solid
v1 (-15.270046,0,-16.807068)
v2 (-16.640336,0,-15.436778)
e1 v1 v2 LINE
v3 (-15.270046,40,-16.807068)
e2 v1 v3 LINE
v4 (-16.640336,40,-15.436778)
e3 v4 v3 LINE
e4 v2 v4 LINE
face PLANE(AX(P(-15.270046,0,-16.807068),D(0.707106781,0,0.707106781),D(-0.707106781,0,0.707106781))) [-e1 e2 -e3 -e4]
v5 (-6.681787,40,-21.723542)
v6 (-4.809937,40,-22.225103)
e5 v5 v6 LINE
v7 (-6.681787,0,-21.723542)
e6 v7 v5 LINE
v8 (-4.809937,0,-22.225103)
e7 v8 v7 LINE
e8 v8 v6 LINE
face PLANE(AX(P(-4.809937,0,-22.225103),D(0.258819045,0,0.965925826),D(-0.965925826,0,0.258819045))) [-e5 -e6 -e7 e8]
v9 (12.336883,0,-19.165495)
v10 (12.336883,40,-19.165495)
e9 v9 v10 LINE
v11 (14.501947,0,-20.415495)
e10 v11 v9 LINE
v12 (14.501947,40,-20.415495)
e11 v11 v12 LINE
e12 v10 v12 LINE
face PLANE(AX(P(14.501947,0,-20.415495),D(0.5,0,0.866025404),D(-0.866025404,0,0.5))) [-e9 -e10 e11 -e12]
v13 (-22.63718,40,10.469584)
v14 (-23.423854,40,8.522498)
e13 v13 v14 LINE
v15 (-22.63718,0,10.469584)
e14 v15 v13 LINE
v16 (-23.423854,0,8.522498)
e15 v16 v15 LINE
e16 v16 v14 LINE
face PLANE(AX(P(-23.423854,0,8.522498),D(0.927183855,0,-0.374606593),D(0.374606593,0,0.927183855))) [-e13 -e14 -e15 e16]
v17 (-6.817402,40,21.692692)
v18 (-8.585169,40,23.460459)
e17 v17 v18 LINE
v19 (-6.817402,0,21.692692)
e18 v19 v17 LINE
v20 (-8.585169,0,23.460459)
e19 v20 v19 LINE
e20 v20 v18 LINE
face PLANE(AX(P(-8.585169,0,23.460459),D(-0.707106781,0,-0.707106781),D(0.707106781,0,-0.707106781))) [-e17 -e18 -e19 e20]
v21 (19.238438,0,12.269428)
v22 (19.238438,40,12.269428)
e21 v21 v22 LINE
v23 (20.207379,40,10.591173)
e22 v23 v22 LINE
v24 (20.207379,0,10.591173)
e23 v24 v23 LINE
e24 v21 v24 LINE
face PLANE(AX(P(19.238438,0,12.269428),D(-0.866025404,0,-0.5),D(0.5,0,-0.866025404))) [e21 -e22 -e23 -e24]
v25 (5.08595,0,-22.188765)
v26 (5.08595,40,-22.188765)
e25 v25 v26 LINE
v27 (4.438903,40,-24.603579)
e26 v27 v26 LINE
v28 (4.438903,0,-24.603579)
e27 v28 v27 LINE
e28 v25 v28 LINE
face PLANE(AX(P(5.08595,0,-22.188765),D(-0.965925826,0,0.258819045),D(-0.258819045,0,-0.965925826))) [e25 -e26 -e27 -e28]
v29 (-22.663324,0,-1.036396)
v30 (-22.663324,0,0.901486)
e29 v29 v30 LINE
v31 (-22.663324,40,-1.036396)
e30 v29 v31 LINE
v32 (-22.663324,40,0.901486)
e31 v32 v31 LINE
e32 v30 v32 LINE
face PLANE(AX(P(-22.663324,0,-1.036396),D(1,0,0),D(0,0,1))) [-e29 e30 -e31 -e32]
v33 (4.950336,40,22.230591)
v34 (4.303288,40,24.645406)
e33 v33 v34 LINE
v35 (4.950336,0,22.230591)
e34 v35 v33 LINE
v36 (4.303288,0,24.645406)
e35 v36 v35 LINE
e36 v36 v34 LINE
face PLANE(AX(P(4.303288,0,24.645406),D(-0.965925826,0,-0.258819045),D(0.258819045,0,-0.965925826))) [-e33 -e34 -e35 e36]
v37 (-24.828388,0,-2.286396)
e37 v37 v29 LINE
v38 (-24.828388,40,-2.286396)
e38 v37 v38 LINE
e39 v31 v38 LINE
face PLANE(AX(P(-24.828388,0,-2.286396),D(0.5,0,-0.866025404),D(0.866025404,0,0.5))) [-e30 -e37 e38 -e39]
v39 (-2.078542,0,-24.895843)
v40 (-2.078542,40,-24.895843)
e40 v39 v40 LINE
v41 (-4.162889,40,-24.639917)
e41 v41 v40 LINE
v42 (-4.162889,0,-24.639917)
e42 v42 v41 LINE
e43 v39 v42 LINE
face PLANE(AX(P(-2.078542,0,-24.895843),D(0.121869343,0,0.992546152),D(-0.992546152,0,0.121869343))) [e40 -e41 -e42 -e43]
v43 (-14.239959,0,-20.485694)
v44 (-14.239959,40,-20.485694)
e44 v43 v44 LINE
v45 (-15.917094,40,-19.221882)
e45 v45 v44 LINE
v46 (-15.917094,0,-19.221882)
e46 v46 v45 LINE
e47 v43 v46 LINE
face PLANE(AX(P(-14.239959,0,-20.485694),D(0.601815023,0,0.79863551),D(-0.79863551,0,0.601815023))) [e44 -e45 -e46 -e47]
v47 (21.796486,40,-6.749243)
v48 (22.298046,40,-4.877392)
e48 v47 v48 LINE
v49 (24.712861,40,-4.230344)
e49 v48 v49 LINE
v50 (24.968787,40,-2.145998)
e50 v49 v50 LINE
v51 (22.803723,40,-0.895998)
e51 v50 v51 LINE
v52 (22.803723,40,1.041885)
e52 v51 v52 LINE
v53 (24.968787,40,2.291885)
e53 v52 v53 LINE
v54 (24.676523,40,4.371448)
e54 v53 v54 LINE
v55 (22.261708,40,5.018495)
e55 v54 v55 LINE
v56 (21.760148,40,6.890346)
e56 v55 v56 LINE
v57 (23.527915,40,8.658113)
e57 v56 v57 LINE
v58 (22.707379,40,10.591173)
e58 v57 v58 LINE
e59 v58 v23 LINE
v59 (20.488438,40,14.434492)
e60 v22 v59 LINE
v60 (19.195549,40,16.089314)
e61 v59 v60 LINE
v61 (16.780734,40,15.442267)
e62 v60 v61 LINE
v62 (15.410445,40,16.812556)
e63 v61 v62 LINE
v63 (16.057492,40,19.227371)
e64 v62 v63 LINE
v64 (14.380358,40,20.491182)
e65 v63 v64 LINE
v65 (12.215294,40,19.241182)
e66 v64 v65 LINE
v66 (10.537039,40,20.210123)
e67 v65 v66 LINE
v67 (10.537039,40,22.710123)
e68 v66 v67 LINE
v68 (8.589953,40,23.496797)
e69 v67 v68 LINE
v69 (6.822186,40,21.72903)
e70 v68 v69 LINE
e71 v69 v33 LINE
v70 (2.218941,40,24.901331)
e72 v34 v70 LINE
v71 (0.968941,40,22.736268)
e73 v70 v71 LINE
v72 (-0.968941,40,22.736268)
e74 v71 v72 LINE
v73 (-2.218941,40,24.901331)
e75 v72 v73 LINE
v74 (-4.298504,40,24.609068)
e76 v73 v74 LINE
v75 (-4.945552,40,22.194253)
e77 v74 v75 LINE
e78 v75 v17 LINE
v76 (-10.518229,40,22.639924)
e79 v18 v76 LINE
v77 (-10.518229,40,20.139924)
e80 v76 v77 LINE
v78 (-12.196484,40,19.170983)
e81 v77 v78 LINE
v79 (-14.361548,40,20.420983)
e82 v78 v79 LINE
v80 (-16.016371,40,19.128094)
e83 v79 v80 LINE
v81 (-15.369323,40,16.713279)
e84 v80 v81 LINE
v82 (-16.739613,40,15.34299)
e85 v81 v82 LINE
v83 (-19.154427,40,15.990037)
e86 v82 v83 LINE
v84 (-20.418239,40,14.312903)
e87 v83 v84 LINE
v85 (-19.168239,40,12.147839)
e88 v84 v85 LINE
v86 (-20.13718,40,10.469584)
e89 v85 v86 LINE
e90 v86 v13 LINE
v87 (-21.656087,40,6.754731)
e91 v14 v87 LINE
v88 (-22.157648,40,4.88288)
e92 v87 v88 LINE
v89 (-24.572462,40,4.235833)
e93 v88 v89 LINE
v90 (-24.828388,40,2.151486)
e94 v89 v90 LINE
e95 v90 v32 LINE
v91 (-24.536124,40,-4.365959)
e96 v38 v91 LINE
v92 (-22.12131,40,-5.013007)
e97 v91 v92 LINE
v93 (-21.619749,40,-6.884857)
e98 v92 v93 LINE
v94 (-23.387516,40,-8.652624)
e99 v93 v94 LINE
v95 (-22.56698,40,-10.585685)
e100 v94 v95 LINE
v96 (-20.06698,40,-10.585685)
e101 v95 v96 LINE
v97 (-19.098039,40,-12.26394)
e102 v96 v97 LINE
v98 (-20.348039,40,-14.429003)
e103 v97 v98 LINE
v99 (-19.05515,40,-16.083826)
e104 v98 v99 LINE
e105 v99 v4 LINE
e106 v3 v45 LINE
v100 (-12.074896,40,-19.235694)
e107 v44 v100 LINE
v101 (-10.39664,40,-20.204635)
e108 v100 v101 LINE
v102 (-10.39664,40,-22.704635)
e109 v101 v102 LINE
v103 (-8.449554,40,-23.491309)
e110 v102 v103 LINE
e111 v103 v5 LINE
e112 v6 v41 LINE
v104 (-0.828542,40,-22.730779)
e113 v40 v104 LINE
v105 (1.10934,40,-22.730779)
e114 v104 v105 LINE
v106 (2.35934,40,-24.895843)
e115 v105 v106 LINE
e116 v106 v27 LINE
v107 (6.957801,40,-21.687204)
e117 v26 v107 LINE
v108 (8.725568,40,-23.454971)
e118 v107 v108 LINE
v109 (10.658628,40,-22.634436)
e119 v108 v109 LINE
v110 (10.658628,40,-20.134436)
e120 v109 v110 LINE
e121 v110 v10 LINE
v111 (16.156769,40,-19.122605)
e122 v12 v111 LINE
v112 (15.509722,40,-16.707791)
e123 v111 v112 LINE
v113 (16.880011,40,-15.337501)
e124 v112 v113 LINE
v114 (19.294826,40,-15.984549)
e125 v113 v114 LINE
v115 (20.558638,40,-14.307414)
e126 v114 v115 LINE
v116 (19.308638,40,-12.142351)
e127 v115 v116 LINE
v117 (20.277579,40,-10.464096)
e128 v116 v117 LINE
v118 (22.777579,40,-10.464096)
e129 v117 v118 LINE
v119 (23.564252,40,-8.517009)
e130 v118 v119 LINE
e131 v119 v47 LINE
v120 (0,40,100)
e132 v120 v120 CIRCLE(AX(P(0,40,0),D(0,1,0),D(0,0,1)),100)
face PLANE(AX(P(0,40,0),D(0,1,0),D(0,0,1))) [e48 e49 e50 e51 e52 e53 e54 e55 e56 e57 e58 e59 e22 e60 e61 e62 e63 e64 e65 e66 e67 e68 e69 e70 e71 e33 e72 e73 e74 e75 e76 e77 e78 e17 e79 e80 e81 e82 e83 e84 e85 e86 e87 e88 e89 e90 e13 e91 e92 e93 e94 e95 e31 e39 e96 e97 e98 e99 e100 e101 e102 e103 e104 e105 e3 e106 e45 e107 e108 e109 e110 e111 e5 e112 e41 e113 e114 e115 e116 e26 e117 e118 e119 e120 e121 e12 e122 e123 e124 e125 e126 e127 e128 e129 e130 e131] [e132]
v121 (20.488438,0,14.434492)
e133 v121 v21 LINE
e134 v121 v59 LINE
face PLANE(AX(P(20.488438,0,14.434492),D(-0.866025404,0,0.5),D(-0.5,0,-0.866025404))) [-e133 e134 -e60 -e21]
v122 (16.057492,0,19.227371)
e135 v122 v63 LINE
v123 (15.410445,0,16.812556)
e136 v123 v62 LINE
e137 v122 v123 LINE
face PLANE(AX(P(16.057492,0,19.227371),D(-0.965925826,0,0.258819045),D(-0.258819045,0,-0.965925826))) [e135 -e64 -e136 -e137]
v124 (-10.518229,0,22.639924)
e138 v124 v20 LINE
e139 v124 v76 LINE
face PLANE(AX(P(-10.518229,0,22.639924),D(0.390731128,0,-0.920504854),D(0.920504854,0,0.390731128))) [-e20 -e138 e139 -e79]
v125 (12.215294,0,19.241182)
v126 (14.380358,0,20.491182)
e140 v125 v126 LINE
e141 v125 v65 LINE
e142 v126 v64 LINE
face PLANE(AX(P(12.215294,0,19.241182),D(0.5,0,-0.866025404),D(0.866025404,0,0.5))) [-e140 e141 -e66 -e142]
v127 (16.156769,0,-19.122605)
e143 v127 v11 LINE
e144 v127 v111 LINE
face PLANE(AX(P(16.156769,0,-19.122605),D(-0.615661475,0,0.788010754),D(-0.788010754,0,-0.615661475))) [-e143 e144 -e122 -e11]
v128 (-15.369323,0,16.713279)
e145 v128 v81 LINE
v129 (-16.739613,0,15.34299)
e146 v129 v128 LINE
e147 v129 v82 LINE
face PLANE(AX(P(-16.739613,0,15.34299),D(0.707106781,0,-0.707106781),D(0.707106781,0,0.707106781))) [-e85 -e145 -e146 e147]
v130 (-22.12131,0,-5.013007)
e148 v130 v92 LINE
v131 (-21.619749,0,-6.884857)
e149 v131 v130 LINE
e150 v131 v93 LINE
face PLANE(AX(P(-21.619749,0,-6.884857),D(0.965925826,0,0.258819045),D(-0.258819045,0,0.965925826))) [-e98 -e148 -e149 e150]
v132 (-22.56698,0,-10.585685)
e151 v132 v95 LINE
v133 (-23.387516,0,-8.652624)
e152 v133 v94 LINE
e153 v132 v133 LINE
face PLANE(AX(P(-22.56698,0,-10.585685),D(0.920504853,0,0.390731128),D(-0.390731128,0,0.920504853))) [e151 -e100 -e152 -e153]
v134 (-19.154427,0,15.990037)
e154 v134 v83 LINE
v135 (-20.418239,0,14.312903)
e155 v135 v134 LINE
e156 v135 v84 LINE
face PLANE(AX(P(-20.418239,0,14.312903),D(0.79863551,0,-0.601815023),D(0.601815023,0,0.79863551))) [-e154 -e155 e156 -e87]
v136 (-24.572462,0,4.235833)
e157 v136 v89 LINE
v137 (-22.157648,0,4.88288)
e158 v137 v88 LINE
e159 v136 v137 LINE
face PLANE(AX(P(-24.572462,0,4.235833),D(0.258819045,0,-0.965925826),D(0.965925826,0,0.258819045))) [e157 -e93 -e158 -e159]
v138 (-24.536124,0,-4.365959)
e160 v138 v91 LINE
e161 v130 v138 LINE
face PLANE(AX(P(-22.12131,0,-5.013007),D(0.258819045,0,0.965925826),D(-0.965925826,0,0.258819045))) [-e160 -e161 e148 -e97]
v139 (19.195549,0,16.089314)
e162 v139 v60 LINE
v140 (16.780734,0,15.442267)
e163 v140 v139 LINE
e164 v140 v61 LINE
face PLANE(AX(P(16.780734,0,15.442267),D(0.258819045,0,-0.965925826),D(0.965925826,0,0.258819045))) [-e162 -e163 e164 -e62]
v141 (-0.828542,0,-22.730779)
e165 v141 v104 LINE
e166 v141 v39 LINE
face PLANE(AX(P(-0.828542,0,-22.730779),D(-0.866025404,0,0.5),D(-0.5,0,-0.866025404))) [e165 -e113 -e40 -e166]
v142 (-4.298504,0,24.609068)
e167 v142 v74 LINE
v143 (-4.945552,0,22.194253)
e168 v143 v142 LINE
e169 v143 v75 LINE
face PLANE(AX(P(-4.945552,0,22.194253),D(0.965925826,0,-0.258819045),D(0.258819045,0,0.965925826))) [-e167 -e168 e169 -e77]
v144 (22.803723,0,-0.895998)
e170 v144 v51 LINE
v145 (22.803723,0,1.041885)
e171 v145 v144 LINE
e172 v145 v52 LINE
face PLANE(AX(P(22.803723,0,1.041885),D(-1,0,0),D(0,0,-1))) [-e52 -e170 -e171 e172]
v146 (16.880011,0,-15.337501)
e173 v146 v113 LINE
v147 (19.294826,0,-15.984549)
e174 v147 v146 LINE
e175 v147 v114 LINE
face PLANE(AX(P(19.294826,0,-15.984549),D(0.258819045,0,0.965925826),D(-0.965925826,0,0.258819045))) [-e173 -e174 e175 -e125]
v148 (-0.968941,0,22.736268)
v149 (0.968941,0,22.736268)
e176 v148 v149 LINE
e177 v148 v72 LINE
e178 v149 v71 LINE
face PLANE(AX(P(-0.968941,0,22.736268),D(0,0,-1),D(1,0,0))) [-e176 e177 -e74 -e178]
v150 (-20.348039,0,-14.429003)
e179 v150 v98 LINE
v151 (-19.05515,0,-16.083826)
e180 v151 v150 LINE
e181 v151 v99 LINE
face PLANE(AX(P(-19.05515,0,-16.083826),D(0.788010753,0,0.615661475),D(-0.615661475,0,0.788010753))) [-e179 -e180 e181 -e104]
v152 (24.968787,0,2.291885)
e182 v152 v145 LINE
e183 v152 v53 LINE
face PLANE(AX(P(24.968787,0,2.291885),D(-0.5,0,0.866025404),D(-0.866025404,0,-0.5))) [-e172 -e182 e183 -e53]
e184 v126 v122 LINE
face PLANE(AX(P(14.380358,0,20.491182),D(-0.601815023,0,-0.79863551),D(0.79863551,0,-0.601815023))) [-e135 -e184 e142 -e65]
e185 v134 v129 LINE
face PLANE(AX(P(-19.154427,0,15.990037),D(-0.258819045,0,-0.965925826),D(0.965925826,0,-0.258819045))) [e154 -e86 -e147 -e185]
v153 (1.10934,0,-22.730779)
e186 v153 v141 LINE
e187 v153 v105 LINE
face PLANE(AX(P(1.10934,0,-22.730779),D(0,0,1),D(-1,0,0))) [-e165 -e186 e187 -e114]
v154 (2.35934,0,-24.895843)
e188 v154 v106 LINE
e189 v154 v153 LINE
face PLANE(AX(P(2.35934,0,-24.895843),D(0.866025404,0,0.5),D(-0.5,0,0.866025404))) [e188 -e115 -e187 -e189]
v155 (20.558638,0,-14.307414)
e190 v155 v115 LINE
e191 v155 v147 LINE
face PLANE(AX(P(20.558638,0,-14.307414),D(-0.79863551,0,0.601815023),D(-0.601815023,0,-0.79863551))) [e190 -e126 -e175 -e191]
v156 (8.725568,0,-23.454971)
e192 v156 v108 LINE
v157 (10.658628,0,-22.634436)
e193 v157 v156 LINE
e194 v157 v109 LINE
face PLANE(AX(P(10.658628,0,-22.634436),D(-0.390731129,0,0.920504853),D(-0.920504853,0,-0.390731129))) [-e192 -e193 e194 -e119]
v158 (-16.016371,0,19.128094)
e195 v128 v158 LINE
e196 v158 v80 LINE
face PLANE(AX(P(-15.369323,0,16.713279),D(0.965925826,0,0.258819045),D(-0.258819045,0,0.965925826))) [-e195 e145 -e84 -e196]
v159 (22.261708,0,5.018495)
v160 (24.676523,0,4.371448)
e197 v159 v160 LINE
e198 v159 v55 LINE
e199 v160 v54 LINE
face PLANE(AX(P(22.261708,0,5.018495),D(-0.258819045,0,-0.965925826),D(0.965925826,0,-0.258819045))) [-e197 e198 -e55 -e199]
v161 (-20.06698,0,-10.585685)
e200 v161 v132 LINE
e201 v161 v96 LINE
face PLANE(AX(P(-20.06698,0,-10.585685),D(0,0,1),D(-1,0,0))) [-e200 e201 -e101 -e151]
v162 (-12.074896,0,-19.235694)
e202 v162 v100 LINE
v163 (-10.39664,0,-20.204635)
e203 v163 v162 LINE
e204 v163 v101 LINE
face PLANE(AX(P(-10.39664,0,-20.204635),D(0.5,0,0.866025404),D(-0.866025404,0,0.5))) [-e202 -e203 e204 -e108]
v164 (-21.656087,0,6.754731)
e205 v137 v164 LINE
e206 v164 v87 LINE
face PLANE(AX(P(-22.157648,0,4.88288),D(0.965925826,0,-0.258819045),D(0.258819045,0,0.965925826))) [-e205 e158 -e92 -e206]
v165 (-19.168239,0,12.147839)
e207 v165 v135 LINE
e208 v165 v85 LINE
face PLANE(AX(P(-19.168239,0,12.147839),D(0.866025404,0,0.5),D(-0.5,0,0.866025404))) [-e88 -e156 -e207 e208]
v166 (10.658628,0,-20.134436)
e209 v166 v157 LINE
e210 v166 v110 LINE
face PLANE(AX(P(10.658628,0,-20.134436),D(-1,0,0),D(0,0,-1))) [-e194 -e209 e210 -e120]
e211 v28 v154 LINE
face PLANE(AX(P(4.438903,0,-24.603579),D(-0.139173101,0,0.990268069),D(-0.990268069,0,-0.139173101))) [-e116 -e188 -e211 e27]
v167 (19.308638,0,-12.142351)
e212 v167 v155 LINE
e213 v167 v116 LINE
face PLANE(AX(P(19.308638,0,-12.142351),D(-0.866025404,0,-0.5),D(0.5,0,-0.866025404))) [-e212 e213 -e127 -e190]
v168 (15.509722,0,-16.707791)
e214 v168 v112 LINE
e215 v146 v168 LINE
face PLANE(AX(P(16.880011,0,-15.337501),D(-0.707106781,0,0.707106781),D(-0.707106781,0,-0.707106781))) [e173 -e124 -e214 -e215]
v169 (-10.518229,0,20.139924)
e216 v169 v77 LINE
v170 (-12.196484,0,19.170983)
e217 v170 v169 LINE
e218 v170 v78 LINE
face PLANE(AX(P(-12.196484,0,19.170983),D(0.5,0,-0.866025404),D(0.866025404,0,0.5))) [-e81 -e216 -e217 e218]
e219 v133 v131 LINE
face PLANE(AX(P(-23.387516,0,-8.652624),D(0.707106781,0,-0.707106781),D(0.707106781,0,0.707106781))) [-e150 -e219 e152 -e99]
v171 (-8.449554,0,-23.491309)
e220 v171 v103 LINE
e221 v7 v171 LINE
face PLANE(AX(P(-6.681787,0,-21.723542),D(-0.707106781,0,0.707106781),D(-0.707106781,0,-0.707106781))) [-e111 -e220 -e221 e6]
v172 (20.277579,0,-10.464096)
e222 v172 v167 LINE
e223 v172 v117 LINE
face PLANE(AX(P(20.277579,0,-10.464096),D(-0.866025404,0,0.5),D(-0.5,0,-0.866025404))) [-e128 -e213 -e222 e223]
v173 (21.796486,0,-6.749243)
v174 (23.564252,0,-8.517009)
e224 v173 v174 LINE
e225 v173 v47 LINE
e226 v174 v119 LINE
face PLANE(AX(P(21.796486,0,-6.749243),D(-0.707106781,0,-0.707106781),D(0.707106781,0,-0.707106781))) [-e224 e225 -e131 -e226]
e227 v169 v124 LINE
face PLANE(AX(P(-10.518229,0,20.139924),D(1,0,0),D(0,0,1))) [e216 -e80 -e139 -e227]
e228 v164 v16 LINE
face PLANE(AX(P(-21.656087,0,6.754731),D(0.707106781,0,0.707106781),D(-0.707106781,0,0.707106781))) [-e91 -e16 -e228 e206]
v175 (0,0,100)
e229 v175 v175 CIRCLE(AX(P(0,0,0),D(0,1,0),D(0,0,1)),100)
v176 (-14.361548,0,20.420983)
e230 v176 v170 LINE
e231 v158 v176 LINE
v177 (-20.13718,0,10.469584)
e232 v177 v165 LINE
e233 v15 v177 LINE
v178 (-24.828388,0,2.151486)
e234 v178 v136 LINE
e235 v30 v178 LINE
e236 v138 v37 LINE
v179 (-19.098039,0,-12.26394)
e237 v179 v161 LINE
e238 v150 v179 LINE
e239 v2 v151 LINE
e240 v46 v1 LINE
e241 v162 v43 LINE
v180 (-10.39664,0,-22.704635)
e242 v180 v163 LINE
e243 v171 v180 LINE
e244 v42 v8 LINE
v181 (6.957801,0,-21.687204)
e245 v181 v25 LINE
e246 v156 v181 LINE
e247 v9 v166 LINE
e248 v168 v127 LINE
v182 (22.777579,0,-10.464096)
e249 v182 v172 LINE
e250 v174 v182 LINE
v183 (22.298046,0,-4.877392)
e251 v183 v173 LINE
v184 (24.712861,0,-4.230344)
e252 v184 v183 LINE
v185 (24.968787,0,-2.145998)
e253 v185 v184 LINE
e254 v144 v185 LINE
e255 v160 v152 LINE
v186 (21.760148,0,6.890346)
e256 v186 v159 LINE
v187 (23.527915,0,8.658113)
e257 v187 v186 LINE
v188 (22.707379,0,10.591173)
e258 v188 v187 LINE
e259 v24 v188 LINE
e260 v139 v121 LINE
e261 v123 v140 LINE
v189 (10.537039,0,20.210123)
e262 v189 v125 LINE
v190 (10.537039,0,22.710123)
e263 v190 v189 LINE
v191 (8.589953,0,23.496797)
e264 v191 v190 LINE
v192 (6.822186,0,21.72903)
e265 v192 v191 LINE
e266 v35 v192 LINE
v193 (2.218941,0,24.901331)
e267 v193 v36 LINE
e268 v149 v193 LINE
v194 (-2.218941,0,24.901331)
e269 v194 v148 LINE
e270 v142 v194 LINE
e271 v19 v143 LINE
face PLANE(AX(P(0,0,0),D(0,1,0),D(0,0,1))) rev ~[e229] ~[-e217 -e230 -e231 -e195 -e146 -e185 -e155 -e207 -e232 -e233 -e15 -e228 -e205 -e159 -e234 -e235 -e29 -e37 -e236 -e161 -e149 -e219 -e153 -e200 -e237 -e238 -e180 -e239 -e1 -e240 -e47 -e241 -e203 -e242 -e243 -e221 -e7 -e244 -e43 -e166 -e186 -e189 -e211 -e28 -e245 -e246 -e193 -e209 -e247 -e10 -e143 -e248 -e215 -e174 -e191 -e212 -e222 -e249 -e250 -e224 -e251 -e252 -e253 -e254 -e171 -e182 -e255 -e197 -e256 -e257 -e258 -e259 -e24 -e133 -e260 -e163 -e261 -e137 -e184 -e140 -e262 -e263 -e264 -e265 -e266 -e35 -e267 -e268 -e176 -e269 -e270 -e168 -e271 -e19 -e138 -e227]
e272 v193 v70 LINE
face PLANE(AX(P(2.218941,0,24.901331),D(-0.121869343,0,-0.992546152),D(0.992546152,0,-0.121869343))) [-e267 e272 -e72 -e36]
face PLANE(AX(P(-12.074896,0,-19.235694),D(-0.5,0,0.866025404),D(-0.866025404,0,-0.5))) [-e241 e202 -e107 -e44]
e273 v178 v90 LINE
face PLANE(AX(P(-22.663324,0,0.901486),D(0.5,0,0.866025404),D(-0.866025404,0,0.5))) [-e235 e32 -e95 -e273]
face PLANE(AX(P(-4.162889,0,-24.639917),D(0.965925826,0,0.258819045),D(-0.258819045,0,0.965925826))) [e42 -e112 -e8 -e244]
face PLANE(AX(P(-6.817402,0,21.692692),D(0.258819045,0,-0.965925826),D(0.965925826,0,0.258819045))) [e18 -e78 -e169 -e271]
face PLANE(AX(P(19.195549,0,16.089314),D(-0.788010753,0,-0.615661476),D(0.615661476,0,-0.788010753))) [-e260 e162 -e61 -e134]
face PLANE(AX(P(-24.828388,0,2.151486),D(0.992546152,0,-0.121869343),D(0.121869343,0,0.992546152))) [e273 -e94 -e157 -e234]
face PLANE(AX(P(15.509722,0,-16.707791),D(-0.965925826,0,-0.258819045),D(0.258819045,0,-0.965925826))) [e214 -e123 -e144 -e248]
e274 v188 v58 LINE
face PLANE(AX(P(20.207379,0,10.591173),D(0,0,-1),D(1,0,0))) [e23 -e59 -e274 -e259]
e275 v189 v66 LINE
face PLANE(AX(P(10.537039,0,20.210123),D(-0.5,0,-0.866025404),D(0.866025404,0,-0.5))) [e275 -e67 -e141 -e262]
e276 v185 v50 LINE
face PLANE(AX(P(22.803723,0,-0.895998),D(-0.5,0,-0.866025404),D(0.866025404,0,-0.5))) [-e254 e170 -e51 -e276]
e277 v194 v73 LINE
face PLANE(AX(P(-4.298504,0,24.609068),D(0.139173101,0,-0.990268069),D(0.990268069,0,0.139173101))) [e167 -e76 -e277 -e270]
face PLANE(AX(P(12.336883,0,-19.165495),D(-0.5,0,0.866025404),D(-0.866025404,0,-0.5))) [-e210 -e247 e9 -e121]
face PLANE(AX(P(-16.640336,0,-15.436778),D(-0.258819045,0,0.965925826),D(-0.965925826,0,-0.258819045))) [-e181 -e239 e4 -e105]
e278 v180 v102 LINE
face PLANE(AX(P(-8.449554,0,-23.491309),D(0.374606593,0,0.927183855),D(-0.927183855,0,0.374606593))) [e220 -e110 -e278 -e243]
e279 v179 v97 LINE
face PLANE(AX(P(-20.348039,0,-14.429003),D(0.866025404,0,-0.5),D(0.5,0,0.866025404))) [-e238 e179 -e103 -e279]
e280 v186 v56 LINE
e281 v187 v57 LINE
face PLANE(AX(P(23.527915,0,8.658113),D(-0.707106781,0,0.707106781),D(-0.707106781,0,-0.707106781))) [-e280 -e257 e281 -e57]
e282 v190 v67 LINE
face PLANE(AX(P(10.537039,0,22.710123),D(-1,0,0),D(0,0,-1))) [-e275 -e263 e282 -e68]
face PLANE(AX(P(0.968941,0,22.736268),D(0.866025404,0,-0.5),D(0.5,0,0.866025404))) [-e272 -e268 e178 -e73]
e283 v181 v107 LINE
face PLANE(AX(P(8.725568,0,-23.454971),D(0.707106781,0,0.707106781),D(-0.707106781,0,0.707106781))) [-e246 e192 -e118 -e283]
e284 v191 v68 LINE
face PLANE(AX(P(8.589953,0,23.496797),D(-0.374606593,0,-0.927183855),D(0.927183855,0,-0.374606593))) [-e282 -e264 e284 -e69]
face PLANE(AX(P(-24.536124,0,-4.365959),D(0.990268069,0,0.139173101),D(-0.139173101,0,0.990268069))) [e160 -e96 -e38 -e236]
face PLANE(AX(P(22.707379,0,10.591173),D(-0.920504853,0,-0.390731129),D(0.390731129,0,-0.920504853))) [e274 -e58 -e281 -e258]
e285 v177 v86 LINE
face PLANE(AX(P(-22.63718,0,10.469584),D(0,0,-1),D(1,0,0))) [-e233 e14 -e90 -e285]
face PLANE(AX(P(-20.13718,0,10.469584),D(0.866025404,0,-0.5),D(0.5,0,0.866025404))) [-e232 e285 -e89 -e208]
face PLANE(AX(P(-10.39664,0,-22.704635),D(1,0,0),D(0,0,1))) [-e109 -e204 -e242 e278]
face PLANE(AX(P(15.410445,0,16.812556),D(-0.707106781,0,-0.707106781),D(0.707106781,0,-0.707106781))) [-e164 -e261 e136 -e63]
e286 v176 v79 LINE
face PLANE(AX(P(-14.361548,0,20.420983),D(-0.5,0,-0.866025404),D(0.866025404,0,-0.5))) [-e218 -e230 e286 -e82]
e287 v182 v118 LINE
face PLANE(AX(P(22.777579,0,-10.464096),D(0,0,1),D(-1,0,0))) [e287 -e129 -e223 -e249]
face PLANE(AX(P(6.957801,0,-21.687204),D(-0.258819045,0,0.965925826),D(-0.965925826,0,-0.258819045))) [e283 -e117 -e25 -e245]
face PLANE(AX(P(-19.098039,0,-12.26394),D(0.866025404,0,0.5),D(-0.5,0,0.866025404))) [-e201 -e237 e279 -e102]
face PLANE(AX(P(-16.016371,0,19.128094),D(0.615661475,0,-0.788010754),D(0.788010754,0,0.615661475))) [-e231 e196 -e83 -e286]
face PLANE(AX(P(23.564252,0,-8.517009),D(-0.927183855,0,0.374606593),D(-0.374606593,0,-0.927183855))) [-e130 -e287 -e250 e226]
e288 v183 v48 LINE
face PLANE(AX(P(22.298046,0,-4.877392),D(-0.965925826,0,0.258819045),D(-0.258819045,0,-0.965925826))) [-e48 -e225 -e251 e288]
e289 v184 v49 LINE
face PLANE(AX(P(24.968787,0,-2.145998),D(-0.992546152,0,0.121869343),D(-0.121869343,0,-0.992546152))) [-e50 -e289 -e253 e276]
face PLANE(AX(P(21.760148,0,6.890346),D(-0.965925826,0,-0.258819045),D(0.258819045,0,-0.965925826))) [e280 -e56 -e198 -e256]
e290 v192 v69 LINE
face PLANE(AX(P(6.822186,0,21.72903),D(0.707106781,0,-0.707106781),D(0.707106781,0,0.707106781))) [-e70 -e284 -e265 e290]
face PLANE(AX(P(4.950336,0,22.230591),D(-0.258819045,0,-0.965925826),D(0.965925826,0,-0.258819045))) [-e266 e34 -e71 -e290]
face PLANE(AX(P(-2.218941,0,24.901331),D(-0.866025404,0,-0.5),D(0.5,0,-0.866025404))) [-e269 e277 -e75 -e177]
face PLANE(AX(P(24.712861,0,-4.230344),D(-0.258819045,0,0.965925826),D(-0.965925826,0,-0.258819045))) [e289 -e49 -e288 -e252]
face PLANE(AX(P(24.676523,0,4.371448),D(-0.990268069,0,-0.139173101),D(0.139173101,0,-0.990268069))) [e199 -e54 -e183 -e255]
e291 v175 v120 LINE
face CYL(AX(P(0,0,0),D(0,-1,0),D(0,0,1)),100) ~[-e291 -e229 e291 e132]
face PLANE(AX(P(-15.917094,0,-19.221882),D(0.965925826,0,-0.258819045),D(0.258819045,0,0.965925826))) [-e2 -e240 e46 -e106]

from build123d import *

# Parameters (mm, degrees)
SKETCH8_R           = 100
BOSS_EXTRUDE4_DEPTH = 40
CUT_EXTRUDE1_DEPTH  = 147.969384567


with BuildPart() as part:
    # Sketch8 → Boss-Extrude4 (new body)
    with BuildSketch(Plane(origin=(0, 0, 0), x_dir=(1, 0, 0), z_dir=(0, 1, 0))):
        with Locations(Location((0, 0, 0), (0, 0, 270))):
            Circle(SKETCH8_R)
    extrude(amount=BOSS_EXTRUDE4_DEPTH)

    # Sketch6 → Cut-Extrude1 (cut, through all)
    with BuildSketch(Plane(origin=(0, 0, 0), x_dir=(1, 0, 0), z_dir=(0, 1, 0))):
        Polygon((-0.9689411, -22.736267788), (0.9689411, -22.736267788), (2.2189411, -24.901331298), (4.303288018, -24.645405677), (4.950335631, -22.230591111), (6.822186096, -21.72903029), (8.589953049, -23.496797243), (10.537039143, -22.710123397), (10.537039143, -20.210123397), (12.215294358, -19.241182297), (14.380357867, -20.491182297), (16.057492438, -19.227370749), (15.410444825, -16.812556183), (16.78073447, -15.442266539), (19.195549035, -16.089314151), (20.488438134, -14.434491569), (19.238438134, -12.269428059), (20.207379233, -10.591172845), (22.707379233, -10.591172845), (23.527914603, -8.658112653), (21.76014765, -6.8903457), (22.261708471, -5.018495235), (24.676523036, -4.371447622), (24.968786548, -2.291884678), (22.803723039, -1.041884678), (22.803723039, 0.895997521), (24.968786548, 2.145997521), (24.712860927, 4.23034444), (22.298046362, 4.877392053), (21.796485541, 6.749242517), (23.564252494, 8.51700947), (22.777578648, 10.464095565), (20.277578648, 10.464095565), (19.308637548, 12.142350779), (20.558637548, 14.307414289), (19.294826, 15.98454886), (16.880011434, 15.337501247), (15.509721789, 16.707790891), (16.156769402, 19.122605457), (14.50194682, 20.415494555), (12.33688331, 19.165494555), (10.658628096, 20.134435655), (10.658628096, 22.634435655), (8.725567904, 23.454971025), (6.957800951, 21.687204072), (5.085950486, 22.188764892), (4.438902873, 24.603579458), (2.359339929, 24.89584297), (1.109339929, 22.730779461), (-0.828542271, 22.730779461), (-2.078542271, 24.89584297), (-4.162889189, 24.639917349), (-4.809936802, 22.225102783), (-6.681787267, 21.723541963), (-8.44955422, 23.491308916), (-10.396640314, 22.70463507), (-10.396640314, 20.20463507), (-12.074895529, 19.23569397), (-14.239959038, 20.48569397), (-15.917093609, 19.221882421), (-15.270045996, 16.807067856), (-16.640335641, 15.436778211), (-19.055150206, 16.083825824), (-20.348039305, 14.429003241), (-19.098039305, 12.263939732), (-20.066980404, 10.585684518), (-22.566980404, 10.585684518), (-23.387515774, 8.652624325), (-21.619748821, 6.884857372), (-22.121309642, 5.013006908), (-24.536124207, 4.365959295), (-24.828387719, 2.28639635), (-22.66332421, 1.03639635), (-22.66332421, -0.901485849), (-24.828387719, -2.151485849), (-24.572462098, -4.235832767), (-22.157647532, -4.88288038), (-21.656086712, -6.754730845), (-23.423853665, -8.522497798), (-22.637179819, -10.469583893), (-20.137179819, -10.469583893), (-19.168238719, -12.147839107), (-20.418238719, -14.312902616), (-19.154427171, -15.990037187), (-16.739612605, -15.342989575), (-15.36932296, -16.713279219), (-16.016370573, -19.128093785), (-14.361547991, -20.420982883), (-12.196484481, -19.170982883), (-10.518229267, -20.139923983), (-10.518229267, -22.639923983), (-8.585169075, -23.460459352), (-6.817402122, -21.6926924), (-4.945551657, -22.19425322), (-4.298504044, -24.609067786), (-2.2189411, -24.901331298), align=None)
    extrude(amount=CUT_EXTRUDE1_DEPTH, mode=Mode.SUBTRACT)


solid = part.part
